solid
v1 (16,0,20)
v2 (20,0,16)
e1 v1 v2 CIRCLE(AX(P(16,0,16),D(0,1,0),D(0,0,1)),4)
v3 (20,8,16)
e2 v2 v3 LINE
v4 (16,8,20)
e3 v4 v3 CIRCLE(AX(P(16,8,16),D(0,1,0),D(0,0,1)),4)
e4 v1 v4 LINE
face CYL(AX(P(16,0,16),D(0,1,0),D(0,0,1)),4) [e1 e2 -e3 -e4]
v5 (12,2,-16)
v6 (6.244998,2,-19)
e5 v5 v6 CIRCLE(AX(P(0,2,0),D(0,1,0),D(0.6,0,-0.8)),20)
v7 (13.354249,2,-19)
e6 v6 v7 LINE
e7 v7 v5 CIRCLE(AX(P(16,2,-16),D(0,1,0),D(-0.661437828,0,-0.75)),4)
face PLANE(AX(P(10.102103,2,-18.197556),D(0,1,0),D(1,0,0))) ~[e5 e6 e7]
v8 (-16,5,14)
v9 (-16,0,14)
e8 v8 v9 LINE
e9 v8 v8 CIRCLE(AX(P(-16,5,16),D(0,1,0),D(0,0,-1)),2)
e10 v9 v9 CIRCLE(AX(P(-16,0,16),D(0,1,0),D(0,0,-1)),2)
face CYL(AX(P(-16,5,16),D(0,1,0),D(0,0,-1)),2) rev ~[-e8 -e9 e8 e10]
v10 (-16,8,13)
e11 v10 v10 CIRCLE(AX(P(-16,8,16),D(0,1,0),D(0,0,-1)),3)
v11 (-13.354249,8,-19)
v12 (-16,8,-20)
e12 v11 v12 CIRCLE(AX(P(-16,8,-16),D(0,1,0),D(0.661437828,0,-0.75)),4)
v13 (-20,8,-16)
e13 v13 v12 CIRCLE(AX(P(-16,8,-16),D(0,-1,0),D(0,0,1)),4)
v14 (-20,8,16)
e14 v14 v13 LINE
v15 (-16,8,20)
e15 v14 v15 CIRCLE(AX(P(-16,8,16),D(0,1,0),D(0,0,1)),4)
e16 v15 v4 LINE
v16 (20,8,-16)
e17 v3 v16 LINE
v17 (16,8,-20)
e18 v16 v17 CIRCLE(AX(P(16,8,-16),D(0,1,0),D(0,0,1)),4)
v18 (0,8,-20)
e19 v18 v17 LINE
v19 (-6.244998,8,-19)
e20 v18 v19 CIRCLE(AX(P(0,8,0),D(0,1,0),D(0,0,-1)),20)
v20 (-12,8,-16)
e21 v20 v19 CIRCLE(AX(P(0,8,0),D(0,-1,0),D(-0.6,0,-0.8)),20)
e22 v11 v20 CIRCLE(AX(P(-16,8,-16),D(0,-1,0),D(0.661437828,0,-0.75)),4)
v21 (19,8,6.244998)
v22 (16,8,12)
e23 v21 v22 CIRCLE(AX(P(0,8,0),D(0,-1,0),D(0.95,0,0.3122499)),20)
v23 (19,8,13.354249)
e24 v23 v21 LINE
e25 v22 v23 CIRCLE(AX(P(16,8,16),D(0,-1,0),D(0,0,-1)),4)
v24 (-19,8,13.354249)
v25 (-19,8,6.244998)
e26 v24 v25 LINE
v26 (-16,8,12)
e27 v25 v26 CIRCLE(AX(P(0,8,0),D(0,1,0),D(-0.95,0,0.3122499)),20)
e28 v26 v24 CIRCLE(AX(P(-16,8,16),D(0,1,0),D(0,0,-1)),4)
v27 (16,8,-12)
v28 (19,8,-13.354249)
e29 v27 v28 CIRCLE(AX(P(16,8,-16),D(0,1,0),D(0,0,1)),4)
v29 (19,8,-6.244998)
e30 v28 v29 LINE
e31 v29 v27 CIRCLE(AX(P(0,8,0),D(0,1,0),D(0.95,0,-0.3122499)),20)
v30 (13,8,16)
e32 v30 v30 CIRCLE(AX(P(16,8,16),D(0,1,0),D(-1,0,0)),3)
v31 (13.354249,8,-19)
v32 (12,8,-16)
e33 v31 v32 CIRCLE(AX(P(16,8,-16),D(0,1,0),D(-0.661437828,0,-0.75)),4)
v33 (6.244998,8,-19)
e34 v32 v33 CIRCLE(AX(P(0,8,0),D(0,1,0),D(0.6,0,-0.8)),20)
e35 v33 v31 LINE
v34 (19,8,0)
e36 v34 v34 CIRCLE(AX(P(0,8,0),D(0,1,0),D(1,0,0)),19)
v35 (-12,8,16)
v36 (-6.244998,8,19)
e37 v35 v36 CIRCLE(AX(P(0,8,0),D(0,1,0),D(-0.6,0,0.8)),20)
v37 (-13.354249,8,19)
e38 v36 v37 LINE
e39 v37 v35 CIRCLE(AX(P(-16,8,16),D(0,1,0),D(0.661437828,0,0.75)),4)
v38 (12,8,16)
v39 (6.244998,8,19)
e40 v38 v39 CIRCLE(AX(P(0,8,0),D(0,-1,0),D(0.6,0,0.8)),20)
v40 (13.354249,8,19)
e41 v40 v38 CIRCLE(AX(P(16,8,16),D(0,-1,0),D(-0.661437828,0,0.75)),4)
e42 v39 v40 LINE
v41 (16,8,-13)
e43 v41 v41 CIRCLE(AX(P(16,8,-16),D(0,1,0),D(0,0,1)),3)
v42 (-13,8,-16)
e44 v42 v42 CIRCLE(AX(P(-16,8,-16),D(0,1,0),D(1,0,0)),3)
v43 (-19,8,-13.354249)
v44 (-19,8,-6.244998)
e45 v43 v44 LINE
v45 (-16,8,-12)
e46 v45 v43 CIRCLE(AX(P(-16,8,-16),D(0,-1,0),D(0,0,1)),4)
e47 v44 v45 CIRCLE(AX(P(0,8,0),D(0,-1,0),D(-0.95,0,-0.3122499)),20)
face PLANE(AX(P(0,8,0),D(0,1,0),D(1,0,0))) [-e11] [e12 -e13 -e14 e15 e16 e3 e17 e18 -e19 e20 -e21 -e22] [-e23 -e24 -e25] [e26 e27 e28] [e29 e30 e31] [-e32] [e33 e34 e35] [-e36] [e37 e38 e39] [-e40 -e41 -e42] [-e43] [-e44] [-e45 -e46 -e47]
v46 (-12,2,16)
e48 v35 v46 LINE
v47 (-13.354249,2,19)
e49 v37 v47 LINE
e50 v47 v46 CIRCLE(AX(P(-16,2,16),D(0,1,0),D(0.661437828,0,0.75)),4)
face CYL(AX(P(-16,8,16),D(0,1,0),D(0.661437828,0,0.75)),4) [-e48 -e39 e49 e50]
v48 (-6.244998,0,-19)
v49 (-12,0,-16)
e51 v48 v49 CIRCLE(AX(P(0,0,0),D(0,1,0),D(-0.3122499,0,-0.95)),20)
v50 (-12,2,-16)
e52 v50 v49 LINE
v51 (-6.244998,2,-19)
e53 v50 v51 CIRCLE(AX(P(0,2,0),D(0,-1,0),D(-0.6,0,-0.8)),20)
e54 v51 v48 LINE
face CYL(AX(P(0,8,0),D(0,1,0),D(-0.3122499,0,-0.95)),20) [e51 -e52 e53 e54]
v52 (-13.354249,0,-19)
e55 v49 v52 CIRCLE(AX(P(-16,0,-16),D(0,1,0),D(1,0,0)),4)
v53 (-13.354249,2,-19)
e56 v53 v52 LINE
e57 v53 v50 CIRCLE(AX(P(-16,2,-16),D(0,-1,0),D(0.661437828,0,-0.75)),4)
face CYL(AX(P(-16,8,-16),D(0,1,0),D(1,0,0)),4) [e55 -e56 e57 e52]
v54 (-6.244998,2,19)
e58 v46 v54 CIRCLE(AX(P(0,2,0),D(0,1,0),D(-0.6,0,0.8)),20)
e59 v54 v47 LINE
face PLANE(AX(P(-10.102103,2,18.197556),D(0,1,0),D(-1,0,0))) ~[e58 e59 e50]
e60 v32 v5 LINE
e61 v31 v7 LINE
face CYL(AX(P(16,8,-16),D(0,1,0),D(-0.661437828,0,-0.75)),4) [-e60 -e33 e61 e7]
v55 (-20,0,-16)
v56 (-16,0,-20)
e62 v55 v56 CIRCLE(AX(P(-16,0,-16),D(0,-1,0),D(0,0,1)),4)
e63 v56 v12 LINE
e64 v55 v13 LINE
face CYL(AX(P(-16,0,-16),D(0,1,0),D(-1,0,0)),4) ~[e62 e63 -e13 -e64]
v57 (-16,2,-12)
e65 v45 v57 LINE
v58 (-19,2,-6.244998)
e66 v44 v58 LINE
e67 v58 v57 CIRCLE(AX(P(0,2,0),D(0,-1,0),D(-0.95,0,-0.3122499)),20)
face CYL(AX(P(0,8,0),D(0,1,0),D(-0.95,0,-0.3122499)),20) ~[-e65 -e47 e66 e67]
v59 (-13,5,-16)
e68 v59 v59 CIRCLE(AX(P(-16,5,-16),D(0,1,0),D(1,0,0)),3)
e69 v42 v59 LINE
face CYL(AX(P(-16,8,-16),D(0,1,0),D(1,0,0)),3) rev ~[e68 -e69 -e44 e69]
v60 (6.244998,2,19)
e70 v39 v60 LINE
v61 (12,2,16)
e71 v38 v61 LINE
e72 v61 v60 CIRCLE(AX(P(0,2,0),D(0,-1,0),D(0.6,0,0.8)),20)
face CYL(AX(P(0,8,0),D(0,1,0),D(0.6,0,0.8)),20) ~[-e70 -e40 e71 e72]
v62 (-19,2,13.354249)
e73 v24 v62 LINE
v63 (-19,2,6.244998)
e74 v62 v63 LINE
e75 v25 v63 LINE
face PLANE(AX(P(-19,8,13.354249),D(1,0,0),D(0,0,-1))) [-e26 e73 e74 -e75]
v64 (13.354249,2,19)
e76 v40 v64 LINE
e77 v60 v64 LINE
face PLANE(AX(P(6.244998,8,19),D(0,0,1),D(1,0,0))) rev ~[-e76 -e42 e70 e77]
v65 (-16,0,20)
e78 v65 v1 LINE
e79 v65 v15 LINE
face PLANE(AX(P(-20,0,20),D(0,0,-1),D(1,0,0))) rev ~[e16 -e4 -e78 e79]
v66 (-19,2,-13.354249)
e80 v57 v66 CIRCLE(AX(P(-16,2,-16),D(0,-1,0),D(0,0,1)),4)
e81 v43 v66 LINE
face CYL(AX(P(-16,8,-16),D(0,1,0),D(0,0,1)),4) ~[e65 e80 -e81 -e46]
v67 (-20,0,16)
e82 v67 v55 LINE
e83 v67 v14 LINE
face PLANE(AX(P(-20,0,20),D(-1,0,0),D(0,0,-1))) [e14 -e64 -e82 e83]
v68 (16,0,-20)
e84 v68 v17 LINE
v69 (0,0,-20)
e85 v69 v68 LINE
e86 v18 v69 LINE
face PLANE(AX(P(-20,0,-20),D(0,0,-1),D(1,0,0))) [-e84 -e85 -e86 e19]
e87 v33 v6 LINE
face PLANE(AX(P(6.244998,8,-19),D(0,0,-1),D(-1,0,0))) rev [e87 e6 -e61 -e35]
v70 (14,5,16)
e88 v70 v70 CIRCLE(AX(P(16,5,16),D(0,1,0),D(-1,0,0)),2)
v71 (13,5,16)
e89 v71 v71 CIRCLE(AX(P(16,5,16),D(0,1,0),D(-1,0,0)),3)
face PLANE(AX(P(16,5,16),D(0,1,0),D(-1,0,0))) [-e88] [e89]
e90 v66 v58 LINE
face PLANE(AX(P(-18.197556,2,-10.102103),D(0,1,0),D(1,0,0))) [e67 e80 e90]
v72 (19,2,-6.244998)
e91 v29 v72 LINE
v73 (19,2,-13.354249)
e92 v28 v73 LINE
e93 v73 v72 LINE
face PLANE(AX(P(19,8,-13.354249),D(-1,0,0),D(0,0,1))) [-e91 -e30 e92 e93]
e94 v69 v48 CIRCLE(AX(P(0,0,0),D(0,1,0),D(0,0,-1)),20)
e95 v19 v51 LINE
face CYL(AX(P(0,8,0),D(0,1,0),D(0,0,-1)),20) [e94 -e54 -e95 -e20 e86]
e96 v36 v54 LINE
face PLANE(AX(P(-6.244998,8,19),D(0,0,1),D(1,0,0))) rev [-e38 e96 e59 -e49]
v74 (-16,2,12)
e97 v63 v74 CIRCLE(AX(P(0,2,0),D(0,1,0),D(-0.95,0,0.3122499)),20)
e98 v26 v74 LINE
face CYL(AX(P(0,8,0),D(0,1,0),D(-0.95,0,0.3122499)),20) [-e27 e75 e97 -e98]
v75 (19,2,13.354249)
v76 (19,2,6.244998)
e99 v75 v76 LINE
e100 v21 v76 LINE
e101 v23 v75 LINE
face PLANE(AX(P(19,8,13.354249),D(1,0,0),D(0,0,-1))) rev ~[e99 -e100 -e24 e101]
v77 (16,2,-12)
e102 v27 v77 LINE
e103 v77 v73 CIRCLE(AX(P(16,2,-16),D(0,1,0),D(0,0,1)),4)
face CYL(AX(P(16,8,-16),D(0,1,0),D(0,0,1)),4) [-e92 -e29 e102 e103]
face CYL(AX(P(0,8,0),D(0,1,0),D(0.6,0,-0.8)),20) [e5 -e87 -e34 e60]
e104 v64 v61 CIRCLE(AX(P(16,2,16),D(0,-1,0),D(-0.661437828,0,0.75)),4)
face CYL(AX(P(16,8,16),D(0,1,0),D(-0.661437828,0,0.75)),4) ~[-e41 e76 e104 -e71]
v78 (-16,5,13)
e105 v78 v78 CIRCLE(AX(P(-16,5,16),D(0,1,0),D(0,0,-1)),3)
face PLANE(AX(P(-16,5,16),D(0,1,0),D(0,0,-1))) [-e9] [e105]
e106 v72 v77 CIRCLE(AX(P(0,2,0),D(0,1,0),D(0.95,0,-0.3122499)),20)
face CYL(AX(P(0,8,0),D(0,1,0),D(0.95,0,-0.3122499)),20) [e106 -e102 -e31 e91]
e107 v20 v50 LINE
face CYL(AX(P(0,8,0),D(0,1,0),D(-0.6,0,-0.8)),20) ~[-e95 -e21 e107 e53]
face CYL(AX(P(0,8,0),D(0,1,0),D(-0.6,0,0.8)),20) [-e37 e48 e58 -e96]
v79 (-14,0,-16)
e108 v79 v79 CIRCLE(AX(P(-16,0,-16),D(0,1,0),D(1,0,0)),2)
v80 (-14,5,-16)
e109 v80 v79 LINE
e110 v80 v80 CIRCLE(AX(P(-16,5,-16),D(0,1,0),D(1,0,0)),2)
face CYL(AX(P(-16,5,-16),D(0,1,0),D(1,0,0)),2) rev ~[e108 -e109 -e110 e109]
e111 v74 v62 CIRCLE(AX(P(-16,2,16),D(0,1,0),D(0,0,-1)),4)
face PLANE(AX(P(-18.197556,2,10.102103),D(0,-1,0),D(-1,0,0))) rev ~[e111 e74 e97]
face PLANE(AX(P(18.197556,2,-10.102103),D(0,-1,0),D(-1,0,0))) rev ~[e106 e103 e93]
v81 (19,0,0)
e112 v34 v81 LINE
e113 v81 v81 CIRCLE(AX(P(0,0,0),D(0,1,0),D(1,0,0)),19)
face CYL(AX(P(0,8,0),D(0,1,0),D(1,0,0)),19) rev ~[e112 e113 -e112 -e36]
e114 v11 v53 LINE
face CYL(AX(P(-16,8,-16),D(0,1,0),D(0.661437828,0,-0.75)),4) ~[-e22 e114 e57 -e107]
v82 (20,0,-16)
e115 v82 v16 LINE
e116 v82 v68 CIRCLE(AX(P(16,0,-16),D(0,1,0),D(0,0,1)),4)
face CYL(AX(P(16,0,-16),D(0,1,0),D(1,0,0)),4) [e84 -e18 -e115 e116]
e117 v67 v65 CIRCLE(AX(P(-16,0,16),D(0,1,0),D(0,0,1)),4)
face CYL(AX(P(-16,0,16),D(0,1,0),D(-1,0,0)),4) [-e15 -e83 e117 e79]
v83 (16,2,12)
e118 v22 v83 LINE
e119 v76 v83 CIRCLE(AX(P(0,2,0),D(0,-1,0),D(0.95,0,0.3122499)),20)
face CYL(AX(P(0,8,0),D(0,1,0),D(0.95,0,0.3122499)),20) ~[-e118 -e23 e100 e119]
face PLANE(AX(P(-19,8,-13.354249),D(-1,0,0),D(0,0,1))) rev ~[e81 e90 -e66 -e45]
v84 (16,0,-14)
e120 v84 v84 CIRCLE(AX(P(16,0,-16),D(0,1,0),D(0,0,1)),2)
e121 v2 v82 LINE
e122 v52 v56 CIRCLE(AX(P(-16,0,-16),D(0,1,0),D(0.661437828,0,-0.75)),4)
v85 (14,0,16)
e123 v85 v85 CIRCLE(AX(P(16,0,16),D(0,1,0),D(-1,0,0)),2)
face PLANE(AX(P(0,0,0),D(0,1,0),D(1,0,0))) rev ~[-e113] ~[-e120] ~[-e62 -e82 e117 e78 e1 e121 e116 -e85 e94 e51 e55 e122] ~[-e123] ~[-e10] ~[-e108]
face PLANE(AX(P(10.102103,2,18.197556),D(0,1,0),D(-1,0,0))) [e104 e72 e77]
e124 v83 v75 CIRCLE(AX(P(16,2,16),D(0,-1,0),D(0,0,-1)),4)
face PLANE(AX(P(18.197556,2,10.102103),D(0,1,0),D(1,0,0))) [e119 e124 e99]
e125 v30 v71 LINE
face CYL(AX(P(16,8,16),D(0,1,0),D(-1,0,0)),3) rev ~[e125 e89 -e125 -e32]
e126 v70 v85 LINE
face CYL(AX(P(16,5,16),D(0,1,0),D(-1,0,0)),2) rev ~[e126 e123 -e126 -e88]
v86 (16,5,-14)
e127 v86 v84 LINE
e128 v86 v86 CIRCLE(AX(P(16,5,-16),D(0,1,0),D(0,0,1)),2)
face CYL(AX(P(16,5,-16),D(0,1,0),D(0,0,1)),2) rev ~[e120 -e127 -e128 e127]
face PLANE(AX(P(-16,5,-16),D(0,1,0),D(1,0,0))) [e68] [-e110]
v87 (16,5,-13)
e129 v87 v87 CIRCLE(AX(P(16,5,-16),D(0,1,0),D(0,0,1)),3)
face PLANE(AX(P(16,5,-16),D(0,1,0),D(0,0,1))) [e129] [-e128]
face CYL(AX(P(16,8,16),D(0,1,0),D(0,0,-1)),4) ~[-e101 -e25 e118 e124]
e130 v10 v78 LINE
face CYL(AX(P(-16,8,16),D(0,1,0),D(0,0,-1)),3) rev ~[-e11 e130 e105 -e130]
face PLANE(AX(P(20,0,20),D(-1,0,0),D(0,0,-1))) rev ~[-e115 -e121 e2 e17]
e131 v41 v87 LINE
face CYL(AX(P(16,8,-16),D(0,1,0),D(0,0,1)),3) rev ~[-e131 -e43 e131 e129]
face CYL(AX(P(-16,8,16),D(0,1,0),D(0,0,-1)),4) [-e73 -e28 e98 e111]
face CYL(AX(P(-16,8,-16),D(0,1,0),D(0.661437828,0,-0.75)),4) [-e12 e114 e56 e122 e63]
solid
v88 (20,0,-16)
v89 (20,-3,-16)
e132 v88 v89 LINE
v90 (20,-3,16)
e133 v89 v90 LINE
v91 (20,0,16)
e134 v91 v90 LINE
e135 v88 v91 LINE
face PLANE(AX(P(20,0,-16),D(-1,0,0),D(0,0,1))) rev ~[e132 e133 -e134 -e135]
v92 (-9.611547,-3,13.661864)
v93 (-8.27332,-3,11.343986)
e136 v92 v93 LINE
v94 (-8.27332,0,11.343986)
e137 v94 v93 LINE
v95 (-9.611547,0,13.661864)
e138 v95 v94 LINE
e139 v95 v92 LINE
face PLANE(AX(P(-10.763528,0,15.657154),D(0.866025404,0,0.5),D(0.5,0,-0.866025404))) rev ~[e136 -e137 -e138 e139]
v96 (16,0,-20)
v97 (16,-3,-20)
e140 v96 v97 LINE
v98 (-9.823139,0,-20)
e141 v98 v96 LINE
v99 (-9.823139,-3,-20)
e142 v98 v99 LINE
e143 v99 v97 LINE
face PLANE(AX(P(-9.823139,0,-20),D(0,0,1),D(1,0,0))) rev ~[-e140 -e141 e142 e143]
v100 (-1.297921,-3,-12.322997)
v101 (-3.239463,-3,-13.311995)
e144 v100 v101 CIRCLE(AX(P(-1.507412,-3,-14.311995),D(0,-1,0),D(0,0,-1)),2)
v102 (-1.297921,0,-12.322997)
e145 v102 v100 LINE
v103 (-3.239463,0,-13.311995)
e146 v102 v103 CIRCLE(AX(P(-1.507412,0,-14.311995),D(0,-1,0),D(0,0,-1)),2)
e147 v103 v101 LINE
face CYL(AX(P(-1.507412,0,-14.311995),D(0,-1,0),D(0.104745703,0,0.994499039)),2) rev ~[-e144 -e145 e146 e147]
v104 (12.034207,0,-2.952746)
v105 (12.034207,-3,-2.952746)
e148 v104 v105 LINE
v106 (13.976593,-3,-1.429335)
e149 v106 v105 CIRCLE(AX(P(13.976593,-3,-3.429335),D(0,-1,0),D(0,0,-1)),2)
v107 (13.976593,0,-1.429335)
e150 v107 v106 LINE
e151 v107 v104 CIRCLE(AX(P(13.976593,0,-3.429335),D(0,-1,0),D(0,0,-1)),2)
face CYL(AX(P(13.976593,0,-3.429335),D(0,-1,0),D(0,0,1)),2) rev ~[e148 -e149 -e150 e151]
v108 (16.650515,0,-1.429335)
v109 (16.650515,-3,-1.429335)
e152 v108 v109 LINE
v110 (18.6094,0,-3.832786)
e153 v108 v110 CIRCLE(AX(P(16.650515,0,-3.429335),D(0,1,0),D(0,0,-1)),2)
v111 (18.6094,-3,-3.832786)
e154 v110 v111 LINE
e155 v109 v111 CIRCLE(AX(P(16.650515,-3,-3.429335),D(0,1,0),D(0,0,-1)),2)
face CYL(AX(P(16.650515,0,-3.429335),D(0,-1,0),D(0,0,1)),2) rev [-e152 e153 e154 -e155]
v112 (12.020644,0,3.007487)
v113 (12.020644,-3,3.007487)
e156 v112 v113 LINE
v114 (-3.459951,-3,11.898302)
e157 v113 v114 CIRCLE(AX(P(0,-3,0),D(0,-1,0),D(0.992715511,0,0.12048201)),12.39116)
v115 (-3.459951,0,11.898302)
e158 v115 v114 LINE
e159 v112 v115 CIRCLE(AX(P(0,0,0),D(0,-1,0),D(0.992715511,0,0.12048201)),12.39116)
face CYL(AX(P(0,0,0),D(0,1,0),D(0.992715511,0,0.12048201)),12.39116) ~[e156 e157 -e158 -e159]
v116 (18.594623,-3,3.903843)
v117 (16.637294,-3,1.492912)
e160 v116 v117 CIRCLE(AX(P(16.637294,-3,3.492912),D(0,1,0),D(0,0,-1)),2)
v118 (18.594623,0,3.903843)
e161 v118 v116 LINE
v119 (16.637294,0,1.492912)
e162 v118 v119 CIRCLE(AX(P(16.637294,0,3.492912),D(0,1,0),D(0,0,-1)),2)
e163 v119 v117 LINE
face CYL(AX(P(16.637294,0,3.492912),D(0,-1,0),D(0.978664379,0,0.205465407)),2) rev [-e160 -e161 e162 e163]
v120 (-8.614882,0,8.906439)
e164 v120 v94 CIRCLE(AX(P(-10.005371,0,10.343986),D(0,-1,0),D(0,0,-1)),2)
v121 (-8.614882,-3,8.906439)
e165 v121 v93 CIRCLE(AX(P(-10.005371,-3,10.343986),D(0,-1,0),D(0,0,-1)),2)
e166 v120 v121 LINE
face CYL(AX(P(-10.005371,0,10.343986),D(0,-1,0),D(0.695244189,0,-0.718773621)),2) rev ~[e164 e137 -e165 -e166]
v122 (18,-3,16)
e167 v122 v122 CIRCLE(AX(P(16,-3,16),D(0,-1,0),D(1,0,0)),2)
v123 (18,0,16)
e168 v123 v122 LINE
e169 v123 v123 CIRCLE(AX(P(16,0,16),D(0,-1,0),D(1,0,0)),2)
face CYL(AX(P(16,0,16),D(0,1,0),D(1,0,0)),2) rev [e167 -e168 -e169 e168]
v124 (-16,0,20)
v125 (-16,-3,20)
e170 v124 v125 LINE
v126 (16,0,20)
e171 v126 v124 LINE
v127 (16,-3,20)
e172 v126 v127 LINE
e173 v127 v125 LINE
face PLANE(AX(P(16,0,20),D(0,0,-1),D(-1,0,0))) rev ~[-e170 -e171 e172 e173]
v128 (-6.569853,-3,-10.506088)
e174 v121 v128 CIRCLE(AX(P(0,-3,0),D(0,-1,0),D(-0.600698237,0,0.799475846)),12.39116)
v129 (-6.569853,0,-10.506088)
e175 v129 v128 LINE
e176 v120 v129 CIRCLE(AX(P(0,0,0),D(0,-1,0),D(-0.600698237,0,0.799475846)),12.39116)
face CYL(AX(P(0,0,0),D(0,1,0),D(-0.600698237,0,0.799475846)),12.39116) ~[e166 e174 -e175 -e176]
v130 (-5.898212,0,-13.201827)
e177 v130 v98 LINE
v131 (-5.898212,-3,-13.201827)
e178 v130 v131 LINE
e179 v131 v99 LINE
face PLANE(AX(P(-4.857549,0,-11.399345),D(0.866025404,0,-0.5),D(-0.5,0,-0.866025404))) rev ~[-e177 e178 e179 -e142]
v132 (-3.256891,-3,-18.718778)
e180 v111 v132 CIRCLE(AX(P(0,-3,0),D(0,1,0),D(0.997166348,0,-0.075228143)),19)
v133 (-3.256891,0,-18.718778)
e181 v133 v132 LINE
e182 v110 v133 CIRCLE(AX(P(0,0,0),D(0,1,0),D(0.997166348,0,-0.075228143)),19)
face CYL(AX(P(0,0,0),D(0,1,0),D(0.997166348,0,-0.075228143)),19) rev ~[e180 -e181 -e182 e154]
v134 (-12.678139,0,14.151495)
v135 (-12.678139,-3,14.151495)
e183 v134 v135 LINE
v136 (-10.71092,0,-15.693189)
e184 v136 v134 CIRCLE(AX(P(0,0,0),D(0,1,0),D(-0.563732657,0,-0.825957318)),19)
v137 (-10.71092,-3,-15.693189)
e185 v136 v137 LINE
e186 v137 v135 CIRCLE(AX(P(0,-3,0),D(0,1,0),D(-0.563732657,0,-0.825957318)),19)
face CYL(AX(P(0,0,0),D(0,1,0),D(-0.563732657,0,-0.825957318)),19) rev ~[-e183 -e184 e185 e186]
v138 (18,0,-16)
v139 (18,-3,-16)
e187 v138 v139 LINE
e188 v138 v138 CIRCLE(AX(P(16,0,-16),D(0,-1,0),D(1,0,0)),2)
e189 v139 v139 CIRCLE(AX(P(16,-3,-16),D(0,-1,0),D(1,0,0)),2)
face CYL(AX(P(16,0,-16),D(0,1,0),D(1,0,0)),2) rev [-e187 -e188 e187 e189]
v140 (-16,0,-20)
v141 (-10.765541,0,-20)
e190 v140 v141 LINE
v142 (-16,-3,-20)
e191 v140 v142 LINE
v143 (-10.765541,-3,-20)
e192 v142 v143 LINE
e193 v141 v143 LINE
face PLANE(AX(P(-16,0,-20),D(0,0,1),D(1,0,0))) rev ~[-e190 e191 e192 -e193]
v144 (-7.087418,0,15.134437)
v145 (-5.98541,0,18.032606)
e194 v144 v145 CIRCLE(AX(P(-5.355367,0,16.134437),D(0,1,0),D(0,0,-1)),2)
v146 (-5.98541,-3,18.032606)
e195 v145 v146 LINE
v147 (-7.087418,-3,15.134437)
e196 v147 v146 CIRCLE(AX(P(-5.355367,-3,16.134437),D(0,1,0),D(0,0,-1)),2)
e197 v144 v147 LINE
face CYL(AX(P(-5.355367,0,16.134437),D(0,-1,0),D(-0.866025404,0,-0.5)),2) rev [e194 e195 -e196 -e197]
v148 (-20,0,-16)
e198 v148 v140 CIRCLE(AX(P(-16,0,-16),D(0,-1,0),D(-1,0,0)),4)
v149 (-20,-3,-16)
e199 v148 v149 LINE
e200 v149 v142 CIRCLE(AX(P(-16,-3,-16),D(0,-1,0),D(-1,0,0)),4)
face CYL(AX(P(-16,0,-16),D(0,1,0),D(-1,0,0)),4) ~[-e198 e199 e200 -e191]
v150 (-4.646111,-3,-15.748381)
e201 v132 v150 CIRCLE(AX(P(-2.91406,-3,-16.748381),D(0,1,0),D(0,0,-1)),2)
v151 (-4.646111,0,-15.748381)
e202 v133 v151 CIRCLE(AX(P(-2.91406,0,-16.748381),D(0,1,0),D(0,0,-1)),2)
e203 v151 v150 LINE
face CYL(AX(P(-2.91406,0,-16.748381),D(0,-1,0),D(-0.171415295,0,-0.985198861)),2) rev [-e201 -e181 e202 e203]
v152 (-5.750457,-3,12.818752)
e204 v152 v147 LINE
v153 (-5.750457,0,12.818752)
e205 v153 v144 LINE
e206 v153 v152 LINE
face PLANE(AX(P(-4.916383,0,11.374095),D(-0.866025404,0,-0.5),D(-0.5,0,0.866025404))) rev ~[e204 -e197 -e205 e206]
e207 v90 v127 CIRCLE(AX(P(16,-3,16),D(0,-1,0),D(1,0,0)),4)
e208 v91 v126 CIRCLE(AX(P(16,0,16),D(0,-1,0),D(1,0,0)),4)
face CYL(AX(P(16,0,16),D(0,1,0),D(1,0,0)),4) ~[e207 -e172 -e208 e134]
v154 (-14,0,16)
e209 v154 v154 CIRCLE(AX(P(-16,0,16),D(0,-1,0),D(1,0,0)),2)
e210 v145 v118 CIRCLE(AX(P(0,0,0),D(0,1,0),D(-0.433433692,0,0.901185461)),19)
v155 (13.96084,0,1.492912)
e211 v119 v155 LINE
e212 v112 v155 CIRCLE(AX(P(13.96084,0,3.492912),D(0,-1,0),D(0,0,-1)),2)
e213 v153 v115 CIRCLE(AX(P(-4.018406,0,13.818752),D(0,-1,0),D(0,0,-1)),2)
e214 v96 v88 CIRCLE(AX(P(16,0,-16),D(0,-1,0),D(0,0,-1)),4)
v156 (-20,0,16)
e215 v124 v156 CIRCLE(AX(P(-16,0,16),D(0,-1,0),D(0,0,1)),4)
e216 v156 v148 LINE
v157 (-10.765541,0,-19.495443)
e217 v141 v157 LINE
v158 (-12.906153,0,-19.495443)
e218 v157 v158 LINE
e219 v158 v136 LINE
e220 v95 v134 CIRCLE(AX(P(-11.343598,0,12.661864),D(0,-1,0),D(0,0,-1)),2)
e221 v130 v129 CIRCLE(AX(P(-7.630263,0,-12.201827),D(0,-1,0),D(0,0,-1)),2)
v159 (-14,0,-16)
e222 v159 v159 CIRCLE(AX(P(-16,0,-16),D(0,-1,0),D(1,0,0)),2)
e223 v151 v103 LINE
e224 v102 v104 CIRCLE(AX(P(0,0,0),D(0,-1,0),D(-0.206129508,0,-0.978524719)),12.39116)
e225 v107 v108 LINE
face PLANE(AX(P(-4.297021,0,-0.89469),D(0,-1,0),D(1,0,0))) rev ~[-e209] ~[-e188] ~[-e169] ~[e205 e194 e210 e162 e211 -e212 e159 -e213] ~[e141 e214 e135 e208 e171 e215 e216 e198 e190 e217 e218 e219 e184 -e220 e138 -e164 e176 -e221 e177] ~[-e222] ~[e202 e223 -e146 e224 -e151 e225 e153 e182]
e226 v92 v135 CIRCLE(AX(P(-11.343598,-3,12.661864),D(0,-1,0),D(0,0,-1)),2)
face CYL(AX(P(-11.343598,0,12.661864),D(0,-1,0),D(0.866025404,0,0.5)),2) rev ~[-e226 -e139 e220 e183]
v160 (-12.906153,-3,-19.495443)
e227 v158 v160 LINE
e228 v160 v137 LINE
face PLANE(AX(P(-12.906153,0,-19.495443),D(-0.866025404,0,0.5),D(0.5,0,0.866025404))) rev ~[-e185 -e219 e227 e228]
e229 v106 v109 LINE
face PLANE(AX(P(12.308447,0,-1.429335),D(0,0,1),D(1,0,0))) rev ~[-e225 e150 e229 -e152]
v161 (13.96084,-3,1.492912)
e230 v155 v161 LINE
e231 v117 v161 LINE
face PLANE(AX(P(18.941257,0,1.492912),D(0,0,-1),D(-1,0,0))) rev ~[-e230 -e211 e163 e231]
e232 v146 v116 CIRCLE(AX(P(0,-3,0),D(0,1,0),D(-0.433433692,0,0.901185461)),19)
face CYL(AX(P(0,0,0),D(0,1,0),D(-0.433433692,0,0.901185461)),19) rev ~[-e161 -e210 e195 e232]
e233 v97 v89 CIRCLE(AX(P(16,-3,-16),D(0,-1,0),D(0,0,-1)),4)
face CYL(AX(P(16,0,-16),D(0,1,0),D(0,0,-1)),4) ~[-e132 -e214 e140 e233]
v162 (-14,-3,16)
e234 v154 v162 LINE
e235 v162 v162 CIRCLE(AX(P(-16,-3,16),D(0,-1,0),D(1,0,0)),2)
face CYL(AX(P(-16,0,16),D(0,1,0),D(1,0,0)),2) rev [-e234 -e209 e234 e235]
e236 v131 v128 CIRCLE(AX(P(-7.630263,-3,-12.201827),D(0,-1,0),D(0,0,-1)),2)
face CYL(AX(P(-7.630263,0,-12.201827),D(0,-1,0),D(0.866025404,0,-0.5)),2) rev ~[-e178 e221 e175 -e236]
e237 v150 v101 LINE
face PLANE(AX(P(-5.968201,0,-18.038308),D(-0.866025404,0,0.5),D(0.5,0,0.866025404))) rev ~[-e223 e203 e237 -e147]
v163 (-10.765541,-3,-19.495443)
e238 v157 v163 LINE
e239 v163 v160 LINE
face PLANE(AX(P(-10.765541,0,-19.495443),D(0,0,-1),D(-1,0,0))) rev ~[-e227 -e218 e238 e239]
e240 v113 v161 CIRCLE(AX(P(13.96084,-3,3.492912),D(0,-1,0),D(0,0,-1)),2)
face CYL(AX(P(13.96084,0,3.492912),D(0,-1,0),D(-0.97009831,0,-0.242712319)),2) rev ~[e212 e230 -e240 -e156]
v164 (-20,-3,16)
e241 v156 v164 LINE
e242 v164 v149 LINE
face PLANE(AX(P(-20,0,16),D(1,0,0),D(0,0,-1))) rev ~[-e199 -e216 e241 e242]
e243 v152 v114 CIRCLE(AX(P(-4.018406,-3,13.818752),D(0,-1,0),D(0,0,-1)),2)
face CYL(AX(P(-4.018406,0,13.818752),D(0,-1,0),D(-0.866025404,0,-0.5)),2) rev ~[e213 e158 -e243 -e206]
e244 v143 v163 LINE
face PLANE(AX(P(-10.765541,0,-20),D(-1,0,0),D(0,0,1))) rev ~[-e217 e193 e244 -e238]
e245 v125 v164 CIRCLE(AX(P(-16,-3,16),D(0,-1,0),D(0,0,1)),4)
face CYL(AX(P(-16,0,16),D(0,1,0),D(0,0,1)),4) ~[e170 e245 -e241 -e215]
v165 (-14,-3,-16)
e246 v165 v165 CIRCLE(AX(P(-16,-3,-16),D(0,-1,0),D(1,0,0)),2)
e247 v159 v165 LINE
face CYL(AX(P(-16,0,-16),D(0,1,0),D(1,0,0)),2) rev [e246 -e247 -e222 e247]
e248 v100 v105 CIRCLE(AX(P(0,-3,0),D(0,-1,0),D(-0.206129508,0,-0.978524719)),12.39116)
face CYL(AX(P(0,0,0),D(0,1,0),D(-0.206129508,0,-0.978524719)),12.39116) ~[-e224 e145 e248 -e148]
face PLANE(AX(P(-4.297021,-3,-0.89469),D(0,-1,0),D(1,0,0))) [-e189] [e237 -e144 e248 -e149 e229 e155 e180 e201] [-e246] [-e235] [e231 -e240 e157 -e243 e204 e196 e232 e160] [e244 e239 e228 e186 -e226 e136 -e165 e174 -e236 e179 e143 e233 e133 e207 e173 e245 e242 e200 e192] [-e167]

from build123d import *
from build123d.topology import SkipClean

# Parameters (mm, degrees)
SKETCH1_W            = 40
SKETCH1_H            = 40
BOSS_EXTRUDE1_DEPTH  = 8
FILLET1_R            = 4
SKETCH2_R            = 19
CUT_EXTRUDE1_DEPTH   = 8
SKETCH7_R            = 3
CUT_EXTRUDE2_DEPTH   = 3
SKETCH8_R            = 2
CUT_EXTRUDE3_DEPTH   = 29.722813233
CIRPATTERN1_COUNT    = 4
CUT_EXTRUDE4_DEPTH   = 6
CUT_EXTRUDE5_DEPTH   = 6
MIRROR2_COPY_1_DEPTH = 6
CUT_EXTRUDE6_DEPTH   = 30.393876913
SKETCH12_R           = 2
BOSS_EXTRUDE2_DEPTH  = 3
FILLET2_R            = 2


with BuildPart() as part:
    # Sketch1 → Boss-Extrude1 (new body)
    with BuildSketch(Plane(origin=(0, 0, 0), x_dir=(1, 0, 0), z_dir=(0, 1, 0))):
        Rectangle(SKETCH1_W, SKETCH1_H)
    extrude(amount=BOSS_EXTRUDE1_DEPTH)

    # Fillet1
    fillet1_edges = [part.edges().sort_by_distance(p)[0] for p in [
        (-20, 4, -20),
        (20, 4, -20),
        (-20, 4, 20),
        (20, 4, 20),
    ]]
    fillet(fillet1_edges, radius=FILLET1_R)

    # Sketch2 → Cut-Extrude1 (cut)
    with BuildSketch(Plane(origin=(0, 8, 0), x_dir=(1, 0, 0), z_dir=(0, 1, 0))):
        Circle(SKETCH2_R)
    extrude(amount=-CUT_EXTRUDE1_DEPTH, mode=Mode.SUBTRACT)

    # Sketch7 → Cut-Extrude2 (cut)
    with BuildSketch(Plane(origin=(0, 8, 0), x_dir=(1, 0, 0), z_dir=(0, 1, 0))):
        with Locations((-16, 16)):
            Circle(SKETCH7_R)
    cut_extrude2 = extrude(amount=-CUT_EXTRUDE2_DEPTH, mode=Mode.SUBTRACT)

    # Sketch8 → Cut-Extrude3 (cut, through all)
    with BuildSketch(Plane(origin=(0, 5, 0), x_dir=(1, 0, 0), z_dir=(0, 1, 0))):
        with Locations((-16, 16)):
            Circle(SKETCH8_R)
    cut_extrude3 = extrude(amount=-CUT_EXTRUDE3_DEPTH, mode=Mode.SUBTRACT)

    # CirPattern1: Cut-Extrude2, Cut-Extrude3 ×4 about axis
    cirpattern1_axis = Axis((0, 8, 0), (0, 1, 0))
    add([cut_extrude2.rotate(cirpattern1_axis, i * 360 / CIRPATTERN1_COUNT) for i in range(1, CIRPATTERN1_COUNT)], mode=Mode.SUBTRACT)
    add([cut_extrude3.rotate(cirpattern1_axis, i * 360 / CIRPATTERN1_COUNT) for i in range(1, CIRPATTERN1_COUNT)], mode=Mode.SUBTRACT)

    # Sketch9 → Cut-Extrude4 (cut)
    with BuildSketch(Plane(origin=(0, 8, 0), x_dir=(1, 0, 0), z_dir=(0, 1, 0))):
        with BuildLine():
            Line((-19, 13.354248689), (-19, 6.244997998))
            ThreePointArc((-19, 6.244997998), (-17.734993995, 9.244997998), (-16, 12))
            ThreePointArc((-16, 12), (-17.645751311, 12.354248689), (-19, 13.354248689))
        make_face()
        with BuildLine():
            Line((-19, -13.354248689), (-19, -6.244997998))
            ThreePointArc((-19, -6.244997998), (-17.734993995, -9.244997998), (-16, -12))
            ThreePointArc((-16, -12), (-17.645751311, -12.354248689), (-19, -13.354248689))
        make_face()
        with BuildLine():
            Line((19, 13.354248689), (19, 6.244997998))
            ThreePointArc((19, 6.244997998), (17.734993995, 9.244997998), (16, 12))
            ThreePointArc((16, 12), (17.645751311, 12.354248689), (19, 13.354248689))
        make_face()
        with BuildLine():
            Line((19, -13.354248689), (19, -6.244997998))
            ThreePointArc((19, -6.244997998), (17.734993995, -9.244997998), (16, -12))
            ThreePointArc((16, -12), (17.645751311, -12.354248689), (19, -13.354248689))
        make_face()
    extrude(amount=-CUT_EXTRUDE4_DEPTH, mode=Mode.SUBTRACT)

    # Sketch10 → Cut-Extrude5 (cut)
    with BuildSketch(Plane(origin=(0, 8, 0), x_dir=(1, 0, 0), z_dir=(0, 1, 0))):
        with BuildLine():
            Line((-6.244997998, 19), (-13.354248689, 19))
            ThreePointArc((-13.354248689, 19), (-12.354248689, 17.645751311), (-12, 16))
            ThreePointArc((-12, 16), (-9.244997998, 17.734993995), (-6.244997998, 19))
        make_face()
    cut_extrude5 = extrude(amount=-CUT_EXTRUDE5_DEPTH, mode=Mode.SUBTRACT)

    # Mirror1: Cut-Extrude5 across plane
    add(cut_extrude5.mirror(Plane(origin=(0, 0, 0), x_dir=(0, 0, 1), z_dir=(1, 0, 0))), mode=Mode.SUBTRACT)

    # Mirror2: Cut-Extrude5 across plane
    add(cut_extrude5.mirror(Plane.XY), mode=Mode.SUBTRACT)

    # Mirror2 copy 1 sketch → Mirror2 copy 1 (cut)
    with BuildSketch(Plane(origin=(0, 8, 0), x_dir=(-1, 0, 0), z_dir=(0, 1, 0))):
        with BuildLine():
            Line((-6.244997998, 19), (-13.354248689, 19))
            ThreePointArc((-13.354248689, 19), (-12.354248689, 17.645751311), (-12, 16))
            ThreePointArc((-12, 16), (-9.244997998, 17.734993995), (-6.244997998, 19))
        make_face()
    extrude(amount=-MIRROR2_COPY_1_DEPTH, mode=Mode.SUBTRACT)

    # Sketch11 → Cut-Extrude6 (cut, through all)
    with SkipClean():  # the faces are left unmerged after this step: merging them gives an invalid solid
        with BuildSketch(Plane(origin=(0, 8, 0), x_dir=(1, 0, 0), z_dir=(0, 1, 0))):
            with BuildLine():
                Line((-16, 20), (0, 20))
                ThreePointArc((0, 20), (-3.16227766, 19.748417658), (-6.244997998, 19))
                ThreePointArc((-6.244997998, 19), (-9.244997998, 17.734993995), (-12, 16))
                ThreePointArc((-12, 16), (-12.354248689, 17.645751311), (-13.354248689, 19))
                ThreePointArc((-13.354248689, 19), (-14.585786438, 19.741657387), (-16, 20))
            make_face()
        extrude(amount=-CUT_EXTRUDE6_DEPTH, mode=Mode.SUBTRACT)


with BuildPart() as body_2:
    # Sketch12 → Boss-Extrude2 (new body)
    with BuildSketch(Plane.XZ):
        with BuildLine():
            ThreePointArc((16, -20), (18.828427125, -18.828427125), (20, -16))
            Line((20, -16), (20, 16))
            ThreePointArc((20, 16), (18.828427125, 18.828427125), (16, 20))
            Line((16, 20), (-16, 20))
            ThreePointArc((-16, 20), (-18.828427125, 18.828427125), (-20, 16))
            Line((-20, 16), (-20, -16))
            ThreePointArc((-20, -16), (-18.828427125, -18.828427125), (-16, -20))
            Line((-16, -20), (-10.765541095, -20))
            Line((-10.765541095, -20), (-10.765541095, -19.495443458))
            Line((-10.765541095, -19.495443458), (-12.906153085, -19.495443458))
            Line((-12.906153085, -19.495443458), (-10.710920478, -15.693189048))
            ThreePointArc((-10.710920478, -15.693189048), (-18.999973249, -0.031883017), (-10.763528106, 15.657153723))
            Line((-10.763528106, 15.657153723), (-7.443348214, 9.906433459))
            ThreePointArc((-7.443348214, 9.906433459), (-12.300897144, -1.492911913), (-4.85754893, -11.399345372))
            Line((-4.85754893, -11.399345372), (-9.823139195, -20))
            Line((-9.823139195, -20), (16, -20))
        make_face()
        with BuildLine():
            ThreePointArc((18.946160621, -1.429334708), (10.539039791, -15.809131547), (-5.968201284, -18.038308497))
            Line((-5.968201284, -18.038308497), (-2.554183806, -12.125056767))
            ThreePointArc((-2.554183806, -12.125056767), (7.237819317, -10.057575654), (12.308446645, -1.429334708))
            Line((12.308446645, -1.429334708), (18.946160621, -1.429334708))
        make_face(mode=Mode.SUBTRACT)
        with BuildLine():
            ThreePointArc((-8.235240143, 17.122523756), (9.472375122, 16.470401014), (18.941256928, 1.492911913))
            Line((18.941256928, 1.492911913), (12.300897144, 1.492911913))
            ThreePointArc((12.300897144, 1.492911913), (6.167836385, 10.747029862), (-4.916383155, 11.374094829))
            Line((-4.916383155, 11.374094829), (-8.235240143, 17.122523756))
        make_face(mode=Mode.SUBTRACT)
        with Locations((-16, -16)):
            Circle(SKETCH12_R, mode=Mode.SUBTRACT)
        with Locations((16, -16)):
            Circle(SKETCH12_R, mode=Mode.SUBTRACT)
        with Locations((-16, 16)):
            Circle(SKETCH12_R, mode=Mode.SUBTRACT)
        with Locations((16, 16)):
            Circle(SKETCH12_R, mode=Mode.SUBTRACT)
    extrude(amount=BOSS_EXTRUDE2_DEPTH)

    # Fillet2
    fillet2_edges = [body_2.edges().sort_by_distance(p)[0] for p in [
        (-4.85754893, -1.5, -11.399345372),
        (-7.443348214, -1.5, 9.906433459),
        (-10.763528106, -1.5, 15.657153723),
        (18.941256928, -1.5, 1.492911913),
        (12.300897144, -1.5, 1.492911913),
        (-8.235240143, -1.5, 17.122523756),
        (-4.916383155, -1.5, 11.374094829),
        (-2.554183806, -1.5, -12.125056767),
        (-5.968201284, -1.5, -18.038308497),
        (18.946160621, -1.5, -1.429334708),
        (12.308446645, -1.5, -1.429334708),
    ]]
    fillet(fillet2_edges, radius=FILLET2_R)


solid = Compound([part.part, body_2.part])
